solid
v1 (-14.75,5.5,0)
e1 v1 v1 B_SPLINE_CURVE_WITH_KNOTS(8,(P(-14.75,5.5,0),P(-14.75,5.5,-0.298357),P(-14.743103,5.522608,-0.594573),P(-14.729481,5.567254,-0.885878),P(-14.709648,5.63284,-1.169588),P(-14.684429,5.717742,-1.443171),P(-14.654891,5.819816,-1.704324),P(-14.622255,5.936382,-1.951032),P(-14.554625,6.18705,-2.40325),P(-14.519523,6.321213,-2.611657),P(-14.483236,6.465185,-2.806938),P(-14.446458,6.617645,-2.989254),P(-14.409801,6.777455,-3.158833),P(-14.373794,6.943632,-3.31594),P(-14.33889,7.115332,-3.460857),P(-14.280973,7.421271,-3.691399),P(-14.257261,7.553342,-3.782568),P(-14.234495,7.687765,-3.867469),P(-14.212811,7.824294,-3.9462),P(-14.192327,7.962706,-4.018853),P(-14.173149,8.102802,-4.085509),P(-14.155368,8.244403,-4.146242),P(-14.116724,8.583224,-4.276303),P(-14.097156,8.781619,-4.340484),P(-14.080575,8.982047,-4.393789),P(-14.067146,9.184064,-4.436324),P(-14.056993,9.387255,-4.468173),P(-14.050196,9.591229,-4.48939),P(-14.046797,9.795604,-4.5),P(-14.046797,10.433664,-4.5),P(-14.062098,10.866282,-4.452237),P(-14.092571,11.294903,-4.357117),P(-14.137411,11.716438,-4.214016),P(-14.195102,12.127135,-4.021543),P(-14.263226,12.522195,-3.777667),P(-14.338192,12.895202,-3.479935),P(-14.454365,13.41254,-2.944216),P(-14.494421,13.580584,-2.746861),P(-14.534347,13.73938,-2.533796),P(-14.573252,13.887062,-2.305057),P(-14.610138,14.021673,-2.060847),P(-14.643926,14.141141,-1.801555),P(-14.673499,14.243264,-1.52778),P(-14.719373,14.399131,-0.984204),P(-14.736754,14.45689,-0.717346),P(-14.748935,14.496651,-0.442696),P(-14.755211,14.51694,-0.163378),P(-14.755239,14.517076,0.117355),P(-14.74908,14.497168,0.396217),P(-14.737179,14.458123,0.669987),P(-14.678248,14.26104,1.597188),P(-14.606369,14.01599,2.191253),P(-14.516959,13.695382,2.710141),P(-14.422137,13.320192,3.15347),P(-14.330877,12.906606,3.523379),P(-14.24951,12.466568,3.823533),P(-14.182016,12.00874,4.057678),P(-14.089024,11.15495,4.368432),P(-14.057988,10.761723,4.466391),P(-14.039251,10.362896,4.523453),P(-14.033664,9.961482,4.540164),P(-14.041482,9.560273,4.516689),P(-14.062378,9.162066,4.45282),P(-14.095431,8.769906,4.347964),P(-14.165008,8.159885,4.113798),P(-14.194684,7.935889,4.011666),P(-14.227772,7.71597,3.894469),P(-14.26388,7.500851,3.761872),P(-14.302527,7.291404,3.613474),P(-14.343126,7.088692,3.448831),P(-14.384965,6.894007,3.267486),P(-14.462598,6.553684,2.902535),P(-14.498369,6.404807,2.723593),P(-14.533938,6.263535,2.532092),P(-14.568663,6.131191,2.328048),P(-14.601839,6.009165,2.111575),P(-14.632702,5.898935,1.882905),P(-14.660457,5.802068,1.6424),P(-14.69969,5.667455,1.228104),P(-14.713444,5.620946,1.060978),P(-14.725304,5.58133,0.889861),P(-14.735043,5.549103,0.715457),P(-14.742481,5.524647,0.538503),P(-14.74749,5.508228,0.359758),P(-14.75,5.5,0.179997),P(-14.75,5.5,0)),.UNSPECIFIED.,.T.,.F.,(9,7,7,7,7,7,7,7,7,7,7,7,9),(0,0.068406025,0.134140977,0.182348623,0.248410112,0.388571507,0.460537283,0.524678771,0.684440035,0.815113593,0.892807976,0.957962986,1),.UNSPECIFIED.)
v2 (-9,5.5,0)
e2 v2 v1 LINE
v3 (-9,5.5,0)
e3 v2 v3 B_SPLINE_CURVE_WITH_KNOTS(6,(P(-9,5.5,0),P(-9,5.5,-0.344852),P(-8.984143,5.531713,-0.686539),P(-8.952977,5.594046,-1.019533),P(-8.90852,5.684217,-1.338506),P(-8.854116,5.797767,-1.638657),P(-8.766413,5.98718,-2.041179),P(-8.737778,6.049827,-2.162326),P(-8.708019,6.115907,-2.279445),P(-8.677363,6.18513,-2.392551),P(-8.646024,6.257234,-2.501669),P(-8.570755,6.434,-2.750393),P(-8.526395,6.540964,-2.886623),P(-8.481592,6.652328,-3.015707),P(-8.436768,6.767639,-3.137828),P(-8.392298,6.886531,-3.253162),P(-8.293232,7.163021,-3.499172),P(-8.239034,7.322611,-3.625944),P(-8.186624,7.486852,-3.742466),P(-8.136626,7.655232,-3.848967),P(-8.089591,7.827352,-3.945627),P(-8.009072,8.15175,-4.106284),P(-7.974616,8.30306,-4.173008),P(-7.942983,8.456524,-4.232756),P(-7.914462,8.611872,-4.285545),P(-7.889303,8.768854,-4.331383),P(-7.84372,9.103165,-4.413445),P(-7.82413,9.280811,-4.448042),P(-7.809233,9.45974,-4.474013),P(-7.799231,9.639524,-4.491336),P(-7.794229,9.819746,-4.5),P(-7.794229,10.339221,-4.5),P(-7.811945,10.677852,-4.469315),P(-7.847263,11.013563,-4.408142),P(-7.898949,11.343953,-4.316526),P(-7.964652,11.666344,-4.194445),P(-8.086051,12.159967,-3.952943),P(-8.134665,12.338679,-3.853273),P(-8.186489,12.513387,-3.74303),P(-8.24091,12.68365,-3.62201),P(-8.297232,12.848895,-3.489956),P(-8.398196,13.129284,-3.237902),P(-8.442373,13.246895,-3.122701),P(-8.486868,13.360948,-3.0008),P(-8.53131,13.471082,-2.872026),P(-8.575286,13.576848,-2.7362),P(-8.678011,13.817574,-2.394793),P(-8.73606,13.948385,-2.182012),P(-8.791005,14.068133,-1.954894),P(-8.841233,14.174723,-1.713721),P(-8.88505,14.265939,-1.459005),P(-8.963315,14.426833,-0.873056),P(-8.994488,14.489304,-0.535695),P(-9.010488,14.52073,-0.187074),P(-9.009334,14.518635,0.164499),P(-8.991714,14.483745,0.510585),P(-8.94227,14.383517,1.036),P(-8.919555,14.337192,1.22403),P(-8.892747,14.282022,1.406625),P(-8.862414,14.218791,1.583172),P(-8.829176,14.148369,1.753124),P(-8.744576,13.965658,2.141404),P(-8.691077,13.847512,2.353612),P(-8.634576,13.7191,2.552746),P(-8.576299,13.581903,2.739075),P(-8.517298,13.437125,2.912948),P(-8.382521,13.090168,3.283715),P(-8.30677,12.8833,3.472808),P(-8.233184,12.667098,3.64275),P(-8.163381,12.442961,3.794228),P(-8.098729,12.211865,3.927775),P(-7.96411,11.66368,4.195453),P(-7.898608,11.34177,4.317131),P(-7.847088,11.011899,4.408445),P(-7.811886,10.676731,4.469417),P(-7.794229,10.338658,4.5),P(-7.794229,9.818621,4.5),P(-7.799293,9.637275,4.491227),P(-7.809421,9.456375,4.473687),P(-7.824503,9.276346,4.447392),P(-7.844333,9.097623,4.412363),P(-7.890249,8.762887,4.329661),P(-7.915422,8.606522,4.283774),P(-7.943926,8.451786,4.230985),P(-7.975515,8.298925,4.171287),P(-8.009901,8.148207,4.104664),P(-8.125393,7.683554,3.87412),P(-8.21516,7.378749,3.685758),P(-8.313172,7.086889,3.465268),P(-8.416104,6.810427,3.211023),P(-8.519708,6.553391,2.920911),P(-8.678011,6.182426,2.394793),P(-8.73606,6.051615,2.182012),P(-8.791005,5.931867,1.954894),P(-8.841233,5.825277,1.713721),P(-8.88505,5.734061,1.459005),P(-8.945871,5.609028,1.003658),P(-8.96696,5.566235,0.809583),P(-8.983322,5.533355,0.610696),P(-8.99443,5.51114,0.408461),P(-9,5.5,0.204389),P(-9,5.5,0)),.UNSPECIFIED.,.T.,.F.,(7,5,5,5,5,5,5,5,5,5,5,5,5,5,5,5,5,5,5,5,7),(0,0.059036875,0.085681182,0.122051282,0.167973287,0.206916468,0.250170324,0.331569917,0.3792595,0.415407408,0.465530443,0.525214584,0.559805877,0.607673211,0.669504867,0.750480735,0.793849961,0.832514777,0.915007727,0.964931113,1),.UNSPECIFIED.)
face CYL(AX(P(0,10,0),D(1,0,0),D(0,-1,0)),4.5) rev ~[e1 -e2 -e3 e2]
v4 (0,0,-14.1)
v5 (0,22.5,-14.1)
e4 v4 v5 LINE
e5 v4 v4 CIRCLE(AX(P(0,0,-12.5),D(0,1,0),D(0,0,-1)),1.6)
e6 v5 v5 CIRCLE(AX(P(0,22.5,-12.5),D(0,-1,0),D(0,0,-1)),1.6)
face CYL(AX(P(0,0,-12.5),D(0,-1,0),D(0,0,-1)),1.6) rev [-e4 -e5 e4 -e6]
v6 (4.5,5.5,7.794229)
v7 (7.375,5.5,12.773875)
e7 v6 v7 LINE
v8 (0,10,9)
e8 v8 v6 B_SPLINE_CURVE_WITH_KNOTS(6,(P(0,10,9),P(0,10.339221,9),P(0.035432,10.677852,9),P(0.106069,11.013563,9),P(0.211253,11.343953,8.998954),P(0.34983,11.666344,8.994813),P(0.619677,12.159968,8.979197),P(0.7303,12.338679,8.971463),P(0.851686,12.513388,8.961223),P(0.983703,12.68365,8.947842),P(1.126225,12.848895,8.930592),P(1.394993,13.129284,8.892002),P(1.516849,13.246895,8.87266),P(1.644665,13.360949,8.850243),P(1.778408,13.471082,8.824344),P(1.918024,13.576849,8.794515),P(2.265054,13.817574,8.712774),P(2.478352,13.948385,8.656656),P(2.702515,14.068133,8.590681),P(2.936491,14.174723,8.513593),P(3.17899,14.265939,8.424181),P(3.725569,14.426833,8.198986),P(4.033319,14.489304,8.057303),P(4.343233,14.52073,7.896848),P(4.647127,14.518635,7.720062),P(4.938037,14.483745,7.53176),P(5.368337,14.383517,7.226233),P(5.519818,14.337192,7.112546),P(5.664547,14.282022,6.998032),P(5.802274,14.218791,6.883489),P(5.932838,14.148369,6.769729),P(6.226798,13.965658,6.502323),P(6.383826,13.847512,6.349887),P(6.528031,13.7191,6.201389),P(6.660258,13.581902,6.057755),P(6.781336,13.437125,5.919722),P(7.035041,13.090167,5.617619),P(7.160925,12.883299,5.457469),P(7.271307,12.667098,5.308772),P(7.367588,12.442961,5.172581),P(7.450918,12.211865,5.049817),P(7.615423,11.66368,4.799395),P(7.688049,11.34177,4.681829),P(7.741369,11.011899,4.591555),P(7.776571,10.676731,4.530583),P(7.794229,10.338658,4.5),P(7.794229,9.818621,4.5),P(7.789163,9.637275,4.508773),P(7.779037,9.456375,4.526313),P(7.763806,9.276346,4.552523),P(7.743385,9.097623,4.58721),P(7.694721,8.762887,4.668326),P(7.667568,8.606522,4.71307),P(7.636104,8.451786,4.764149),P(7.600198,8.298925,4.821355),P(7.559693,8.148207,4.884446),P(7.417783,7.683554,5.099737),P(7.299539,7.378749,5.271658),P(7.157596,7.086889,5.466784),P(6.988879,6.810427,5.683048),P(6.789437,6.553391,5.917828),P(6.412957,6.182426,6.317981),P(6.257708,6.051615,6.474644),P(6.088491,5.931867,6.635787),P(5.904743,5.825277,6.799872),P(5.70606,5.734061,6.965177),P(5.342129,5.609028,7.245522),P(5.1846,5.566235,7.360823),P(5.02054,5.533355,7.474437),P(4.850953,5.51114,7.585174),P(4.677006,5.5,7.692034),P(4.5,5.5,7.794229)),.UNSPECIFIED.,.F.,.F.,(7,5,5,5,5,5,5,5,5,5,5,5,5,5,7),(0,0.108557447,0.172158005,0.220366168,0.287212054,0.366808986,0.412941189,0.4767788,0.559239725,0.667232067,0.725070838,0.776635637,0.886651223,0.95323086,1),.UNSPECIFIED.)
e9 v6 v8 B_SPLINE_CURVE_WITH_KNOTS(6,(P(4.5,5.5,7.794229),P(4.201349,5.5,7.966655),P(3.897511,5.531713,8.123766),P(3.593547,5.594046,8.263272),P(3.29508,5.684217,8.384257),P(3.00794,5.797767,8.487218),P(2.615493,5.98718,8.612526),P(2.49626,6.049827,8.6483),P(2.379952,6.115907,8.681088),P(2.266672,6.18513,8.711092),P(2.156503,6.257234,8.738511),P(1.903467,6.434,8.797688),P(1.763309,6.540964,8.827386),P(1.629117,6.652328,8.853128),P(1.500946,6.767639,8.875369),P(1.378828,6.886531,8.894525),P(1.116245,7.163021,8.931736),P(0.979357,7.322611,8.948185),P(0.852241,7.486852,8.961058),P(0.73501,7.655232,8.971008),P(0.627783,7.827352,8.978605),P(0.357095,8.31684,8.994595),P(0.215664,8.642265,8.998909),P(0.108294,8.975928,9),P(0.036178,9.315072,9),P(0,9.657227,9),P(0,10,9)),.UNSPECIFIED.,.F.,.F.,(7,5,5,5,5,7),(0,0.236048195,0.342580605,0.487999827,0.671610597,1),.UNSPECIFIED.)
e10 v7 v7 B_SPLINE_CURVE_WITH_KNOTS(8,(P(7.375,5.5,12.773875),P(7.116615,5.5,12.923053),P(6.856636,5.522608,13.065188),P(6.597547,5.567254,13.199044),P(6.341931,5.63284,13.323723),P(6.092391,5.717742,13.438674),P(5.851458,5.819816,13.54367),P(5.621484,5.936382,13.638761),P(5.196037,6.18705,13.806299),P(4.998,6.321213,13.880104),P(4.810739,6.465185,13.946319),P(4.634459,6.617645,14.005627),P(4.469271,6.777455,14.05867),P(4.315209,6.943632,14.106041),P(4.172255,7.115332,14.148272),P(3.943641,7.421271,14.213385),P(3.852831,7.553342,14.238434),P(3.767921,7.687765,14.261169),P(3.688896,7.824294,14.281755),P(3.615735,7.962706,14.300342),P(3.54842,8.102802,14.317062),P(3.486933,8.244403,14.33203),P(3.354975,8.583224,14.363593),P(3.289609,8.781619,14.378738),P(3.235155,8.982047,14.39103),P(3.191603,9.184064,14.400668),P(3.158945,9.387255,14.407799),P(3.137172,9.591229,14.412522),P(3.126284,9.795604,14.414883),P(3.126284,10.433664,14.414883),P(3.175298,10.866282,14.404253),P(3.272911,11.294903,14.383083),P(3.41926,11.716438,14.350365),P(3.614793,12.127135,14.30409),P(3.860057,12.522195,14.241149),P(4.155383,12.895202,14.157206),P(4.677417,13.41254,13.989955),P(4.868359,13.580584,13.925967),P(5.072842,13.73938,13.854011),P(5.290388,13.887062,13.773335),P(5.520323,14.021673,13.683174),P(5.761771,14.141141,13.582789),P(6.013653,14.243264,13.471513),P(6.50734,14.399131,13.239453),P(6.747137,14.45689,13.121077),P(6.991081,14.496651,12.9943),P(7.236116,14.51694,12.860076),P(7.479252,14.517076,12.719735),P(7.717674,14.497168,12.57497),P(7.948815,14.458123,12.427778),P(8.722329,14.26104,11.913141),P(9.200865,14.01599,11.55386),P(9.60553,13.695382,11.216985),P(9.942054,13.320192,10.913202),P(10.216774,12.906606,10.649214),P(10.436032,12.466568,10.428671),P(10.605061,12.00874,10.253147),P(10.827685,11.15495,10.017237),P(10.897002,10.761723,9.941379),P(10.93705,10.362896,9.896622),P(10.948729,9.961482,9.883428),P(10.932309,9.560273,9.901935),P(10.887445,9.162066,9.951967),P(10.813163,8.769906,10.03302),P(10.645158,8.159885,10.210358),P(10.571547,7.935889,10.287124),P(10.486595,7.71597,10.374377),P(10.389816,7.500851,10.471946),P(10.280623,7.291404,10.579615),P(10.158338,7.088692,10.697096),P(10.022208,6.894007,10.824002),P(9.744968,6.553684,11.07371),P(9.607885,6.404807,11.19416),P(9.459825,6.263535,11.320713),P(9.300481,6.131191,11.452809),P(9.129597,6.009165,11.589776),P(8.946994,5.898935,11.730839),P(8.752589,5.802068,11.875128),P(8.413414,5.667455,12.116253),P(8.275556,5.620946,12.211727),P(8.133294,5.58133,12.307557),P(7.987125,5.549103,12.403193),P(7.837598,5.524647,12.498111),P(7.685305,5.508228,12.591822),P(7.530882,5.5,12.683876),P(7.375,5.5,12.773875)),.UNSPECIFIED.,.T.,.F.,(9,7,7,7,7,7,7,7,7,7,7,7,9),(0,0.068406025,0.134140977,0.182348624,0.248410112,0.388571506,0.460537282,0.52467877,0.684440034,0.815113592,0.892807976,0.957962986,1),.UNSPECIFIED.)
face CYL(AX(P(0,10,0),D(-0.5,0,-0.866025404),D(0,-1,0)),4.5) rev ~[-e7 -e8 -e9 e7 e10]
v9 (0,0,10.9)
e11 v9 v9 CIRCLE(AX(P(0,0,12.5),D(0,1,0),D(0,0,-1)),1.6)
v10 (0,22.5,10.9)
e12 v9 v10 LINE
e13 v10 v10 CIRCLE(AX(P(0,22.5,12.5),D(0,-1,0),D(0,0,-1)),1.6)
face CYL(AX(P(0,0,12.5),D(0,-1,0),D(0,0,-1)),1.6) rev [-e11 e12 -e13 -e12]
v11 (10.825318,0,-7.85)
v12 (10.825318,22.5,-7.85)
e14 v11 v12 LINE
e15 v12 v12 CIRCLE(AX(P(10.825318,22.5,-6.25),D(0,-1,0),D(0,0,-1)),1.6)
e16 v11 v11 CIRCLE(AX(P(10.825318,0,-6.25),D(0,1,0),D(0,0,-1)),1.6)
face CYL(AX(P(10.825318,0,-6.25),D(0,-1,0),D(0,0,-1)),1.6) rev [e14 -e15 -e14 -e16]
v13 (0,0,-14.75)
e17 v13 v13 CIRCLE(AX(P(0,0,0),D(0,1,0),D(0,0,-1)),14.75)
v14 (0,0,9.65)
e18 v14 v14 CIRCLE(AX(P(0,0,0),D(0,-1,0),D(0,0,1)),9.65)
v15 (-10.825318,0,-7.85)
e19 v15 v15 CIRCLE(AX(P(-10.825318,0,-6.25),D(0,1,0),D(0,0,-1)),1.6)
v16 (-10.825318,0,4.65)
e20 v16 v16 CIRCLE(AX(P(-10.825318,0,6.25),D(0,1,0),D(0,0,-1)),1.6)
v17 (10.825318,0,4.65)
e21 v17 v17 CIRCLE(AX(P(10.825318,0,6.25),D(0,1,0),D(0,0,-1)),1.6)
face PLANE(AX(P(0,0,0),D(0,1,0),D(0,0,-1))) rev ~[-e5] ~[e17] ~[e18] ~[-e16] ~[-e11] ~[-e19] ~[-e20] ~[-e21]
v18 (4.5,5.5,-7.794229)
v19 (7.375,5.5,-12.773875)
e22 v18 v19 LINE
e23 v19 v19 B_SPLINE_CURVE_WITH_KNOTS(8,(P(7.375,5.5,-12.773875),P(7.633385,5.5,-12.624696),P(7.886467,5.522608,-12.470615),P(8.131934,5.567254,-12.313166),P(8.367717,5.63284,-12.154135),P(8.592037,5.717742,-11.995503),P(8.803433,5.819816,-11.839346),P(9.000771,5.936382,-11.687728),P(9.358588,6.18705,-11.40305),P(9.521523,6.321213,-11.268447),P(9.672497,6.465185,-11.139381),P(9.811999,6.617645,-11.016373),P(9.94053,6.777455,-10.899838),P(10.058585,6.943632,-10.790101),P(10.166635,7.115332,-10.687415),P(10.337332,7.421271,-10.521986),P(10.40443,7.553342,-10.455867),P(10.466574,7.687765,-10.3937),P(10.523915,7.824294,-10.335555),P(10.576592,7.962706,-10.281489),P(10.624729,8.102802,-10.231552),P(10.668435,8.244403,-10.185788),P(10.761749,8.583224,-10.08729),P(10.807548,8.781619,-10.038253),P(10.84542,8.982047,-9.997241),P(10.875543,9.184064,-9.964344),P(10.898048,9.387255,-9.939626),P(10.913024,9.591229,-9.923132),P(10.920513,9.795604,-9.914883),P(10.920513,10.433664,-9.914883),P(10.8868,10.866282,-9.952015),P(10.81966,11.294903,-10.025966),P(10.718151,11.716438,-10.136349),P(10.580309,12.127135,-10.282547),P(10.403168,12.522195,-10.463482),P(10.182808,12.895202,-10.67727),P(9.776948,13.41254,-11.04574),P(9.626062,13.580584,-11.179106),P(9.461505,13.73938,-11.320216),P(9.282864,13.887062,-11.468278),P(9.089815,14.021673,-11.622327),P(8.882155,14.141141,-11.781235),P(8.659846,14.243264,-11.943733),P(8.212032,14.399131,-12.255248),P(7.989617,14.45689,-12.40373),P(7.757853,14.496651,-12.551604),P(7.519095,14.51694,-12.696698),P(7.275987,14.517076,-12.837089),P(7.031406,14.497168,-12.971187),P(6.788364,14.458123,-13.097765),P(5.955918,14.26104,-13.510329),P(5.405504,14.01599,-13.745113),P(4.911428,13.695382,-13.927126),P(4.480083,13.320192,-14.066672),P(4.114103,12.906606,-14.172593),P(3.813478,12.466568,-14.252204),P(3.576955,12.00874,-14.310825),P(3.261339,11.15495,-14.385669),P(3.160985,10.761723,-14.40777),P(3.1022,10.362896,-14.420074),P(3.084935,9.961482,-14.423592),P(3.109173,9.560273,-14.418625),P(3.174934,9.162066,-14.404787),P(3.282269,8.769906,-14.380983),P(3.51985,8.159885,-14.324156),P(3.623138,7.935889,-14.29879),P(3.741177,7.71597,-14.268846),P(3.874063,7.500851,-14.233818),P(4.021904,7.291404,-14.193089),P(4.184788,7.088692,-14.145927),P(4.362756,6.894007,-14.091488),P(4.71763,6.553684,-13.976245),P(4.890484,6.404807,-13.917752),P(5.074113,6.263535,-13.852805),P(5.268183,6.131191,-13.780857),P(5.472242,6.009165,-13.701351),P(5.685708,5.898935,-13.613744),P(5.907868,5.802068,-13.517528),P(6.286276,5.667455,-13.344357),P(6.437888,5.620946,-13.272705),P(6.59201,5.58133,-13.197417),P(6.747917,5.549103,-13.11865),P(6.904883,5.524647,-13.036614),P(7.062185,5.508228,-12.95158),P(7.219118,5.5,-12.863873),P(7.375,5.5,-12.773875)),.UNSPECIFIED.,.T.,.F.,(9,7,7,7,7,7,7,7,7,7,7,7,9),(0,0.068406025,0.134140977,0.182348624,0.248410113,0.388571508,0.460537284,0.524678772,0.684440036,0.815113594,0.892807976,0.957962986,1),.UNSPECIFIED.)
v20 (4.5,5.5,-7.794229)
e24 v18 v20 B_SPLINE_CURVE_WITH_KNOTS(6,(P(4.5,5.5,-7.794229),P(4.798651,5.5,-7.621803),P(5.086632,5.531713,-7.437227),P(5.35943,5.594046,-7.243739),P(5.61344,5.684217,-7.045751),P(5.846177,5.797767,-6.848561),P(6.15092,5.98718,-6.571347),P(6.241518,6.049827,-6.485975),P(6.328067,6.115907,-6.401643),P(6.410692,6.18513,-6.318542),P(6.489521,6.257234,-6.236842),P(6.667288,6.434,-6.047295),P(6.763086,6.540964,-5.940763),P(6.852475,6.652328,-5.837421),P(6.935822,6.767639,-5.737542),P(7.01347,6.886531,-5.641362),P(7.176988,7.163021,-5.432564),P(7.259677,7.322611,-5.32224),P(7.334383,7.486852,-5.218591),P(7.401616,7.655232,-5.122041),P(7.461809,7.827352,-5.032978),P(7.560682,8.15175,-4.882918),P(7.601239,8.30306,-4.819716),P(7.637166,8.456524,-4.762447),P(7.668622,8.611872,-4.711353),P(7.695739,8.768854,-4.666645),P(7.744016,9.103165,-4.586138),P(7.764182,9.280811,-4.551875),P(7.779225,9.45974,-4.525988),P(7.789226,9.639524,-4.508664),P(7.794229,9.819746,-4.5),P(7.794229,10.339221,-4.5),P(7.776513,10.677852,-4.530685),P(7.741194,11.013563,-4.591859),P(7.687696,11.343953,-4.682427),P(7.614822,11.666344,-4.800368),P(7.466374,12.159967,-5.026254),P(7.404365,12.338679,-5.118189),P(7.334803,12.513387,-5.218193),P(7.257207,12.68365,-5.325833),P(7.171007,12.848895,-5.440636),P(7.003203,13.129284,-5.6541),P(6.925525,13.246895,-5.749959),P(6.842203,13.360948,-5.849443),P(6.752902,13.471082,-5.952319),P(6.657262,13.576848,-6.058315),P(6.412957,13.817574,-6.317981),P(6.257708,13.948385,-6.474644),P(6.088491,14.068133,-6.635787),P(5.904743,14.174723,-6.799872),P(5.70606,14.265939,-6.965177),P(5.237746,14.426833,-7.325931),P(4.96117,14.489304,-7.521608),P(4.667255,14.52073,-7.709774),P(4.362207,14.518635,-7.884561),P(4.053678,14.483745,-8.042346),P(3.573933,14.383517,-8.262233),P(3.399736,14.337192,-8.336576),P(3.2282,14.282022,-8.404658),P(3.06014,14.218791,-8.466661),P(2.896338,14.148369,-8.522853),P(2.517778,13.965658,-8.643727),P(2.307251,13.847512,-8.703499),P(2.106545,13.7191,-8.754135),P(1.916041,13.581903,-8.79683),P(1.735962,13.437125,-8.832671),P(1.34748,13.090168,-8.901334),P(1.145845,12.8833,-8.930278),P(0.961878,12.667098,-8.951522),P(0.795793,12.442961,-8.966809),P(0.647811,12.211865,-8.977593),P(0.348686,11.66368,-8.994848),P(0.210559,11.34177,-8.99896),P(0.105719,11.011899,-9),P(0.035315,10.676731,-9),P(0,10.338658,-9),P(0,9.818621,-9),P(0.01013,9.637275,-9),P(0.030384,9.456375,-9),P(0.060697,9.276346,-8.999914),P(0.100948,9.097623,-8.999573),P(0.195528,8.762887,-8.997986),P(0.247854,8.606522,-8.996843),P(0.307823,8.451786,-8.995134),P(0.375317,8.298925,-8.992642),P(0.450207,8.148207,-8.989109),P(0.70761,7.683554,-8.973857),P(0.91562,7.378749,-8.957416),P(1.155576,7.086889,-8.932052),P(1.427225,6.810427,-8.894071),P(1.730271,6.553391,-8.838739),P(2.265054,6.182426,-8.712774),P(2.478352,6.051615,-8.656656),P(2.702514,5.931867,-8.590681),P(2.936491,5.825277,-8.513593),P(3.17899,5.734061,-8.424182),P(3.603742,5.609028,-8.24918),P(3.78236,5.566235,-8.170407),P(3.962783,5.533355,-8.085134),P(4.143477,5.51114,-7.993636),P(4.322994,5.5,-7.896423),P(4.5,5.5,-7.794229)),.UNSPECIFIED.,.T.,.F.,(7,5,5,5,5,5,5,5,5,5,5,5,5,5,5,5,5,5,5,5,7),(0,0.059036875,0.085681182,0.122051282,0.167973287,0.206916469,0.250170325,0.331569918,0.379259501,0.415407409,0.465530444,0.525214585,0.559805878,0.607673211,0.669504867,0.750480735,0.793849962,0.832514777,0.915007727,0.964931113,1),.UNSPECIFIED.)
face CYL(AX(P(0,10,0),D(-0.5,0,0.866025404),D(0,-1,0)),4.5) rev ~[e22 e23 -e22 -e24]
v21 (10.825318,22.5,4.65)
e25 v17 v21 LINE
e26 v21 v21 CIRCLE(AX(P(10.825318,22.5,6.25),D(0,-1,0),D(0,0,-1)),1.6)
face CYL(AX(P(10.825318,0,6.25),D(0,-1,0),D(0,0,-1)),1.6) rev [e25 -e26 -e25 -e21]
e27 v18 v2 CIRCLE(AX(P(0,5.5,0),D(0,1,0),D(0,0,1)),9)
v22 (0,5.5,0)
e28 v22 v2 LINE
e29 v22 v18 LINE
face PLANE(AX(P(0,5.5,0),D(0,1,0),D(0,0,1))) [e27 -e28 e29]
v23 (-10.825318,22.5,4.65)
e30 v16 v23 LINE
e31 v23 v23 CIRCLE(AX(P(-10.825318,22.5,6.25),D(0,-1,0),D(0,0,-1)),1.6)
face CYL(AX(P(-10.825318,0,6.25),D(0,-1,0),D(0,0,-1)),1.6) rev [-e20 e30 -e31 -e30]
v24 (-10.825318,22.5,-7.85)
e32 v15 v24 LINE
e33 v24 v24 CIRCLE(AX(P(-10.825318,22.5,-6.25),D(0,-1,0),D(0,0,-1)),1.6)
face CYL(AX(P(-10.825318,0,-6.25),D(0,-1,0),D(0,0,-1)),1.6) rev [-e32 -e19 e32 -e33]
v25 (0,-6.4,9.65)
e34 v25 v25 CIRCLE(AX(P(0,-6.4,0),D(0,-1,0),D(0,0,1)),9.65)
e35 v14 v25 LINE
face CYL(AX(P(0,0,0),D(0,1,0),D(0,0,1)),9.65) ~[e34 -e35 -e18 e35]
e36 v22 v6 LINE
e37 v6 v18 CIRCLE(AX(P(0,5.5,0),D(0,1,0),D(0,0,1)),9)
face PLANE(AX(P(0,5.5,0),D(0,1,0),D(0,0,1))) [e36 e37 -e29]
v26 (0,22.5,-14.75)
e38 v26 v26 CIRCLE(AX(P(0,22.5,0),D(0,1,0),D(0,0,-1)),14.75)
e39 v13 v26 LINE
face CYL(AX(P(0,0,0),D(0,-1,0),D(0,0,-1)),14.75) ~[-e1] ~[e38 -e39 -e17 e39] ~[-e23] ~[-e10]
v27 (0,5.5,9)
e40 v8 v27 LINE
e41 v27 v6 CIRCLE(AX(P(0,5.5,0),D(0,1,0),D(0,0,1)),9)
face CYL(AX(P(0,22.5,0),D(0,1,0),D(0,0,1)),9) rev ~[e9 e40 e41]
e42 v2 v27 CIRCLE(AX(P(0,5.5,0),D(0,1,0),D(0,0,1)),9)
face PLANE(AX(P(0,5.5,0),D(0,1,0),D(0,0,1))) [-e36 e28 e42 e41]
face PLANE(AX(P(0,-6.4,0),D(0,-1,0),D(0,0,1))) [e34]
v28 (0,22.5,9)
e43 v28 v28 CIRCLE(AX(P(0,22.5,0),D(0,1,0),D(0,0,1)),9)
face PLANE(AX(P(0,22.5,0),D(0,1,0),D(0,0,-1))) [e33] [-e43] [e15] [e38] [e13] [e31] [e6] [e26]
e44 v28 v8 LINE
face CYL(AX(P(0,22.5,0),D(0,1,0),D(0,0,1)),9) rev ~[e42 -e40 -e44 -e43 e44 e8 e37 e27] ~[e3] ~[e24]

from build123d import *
from build123d.topology import SkipClean

# Parameters (mm, degrees)
SKETCH_1_R               = 14.75
EXTRUDE_1_DEPTH          = 22.5
SKETCH_3_R               = 1.6
CUT_EXTRUDE_1_DEPTH      = 31.681835017
SKETCH_5_R               = 9.65
EXTRUDE_2_DEPTH          = 6.4
SKETCH_6_R               = 9
CUT_EXTRUDE_2_DEPTH      = 17
SKETCH_9_R               = 4.5
CUT_EXTRUDE_3_DEPTH      = 31.681835017
PATTERN_CIRCULAR_1_COUNT = 3


with BuildPart() as part:
    # 草图1 → 凸台-拉伸1 (new body)
    with BuildSketch(Plane(origin=(0, 0, 0), x_dir=(1, 0, 0), z_dir=(0, 1, 0))):
        with Locations(Location((0, 0, 0), (0, 0, 90))):
            Circle(SKETCH_1_R)
    extrude(amount=EXTRUDE_1_DEPTH)

    # 草图3 → 切除-拉伸1 (cut, through all)
    with BuildSketch(Plane(origin=(0, 0, 0), x_dir=(1, 0, 0), z_dir=(0, 1, 0))):
        with Locations(Location((0, 12.5, 0), (0, 0, 90))):
            Circle(SKETCH_3_R)
        with Locations(Location((10.825317547, 6.25, 0), (0, 0, 90))):
            Circle(SKETCH_3_R)
        with Locations(Location((10.825317547, -6.25, 0), (0, 0, 90))):
            Circle(SKETCH_3_R)
        with Locations(Location((0, -12.5, 0), (0, 0, 90))):
            Circle(SKETCH_3_R)
        with Locations(Location((-10.825317547, -6.25, 0), (0, 0, 90))):
            Circle(SKETCH_3_R)
        with Locations(Location((-10.825317547, 6.25, 0), (0, 0, 90))):
            Circle(SKETCH_3_R)
    extrude(amount=CUT_EXTRUDE_1_DEPTH, mode=Mode.SUBTRACT)

    # 草图5 → 凸台-拉伸2 (add)
    with BuildSketch(Plane.XZ):
        with Locations(Location((0, 0, 0), (0, 0, 90))):
            Circle(SKETCH_5_R)
    extrude(amount=EXTRUDE_2_DEPTH)

    # 草图6 → 切除-拉伸2 (cut)
    with BuildSketch(Plane(origin=(0, 22.5, 0), x_dir=(1, 0, 0), z_dir=(0, 1, 0))):
        with Locations(Location((0, 0, 0), (0, 0, 270))):
            Circle(SKETCH_6_R)
    extrude(amount=-CUT_EXTRUDE_2_DEPTH, mode=Mode.SUBTRACT)

    # 草图9 → 切除-拉伸3 (cut, through all)
    with BuildSketch(Plane(origin=(0, 0, 0), x_dir=(0, 0, -1), z_dir=(1, 0, 0))):
        with Locations(Location((0, 10, 0), (0, 0, 270))):
            Circle(SKETCH_9_R)
    cut_extrude_3 = extrude(amount=-CUT_EXTRUDE_3_DEPTH, mode=Mode.SUBTRACT)

    # 阵列(圆周)1: 切除-拉伸3 ×3 about axis
    with SkipClean():  # the faces are left unmerged after this step: merging them gives an invalid solid
        pattern_circular_1_axis = Axis((0, 22.5, 0), (0, 1, 0))
        for i in range(1, PATTERN_CIRCULAR_1_COUNT):
            add(cut_extrude_3.rotate(pattern_circular_1_axis, i * 360 / PATTERN_CIRCULAR_1_COUNT), mode=Mode.SUBTRACT)


solid = part.part
